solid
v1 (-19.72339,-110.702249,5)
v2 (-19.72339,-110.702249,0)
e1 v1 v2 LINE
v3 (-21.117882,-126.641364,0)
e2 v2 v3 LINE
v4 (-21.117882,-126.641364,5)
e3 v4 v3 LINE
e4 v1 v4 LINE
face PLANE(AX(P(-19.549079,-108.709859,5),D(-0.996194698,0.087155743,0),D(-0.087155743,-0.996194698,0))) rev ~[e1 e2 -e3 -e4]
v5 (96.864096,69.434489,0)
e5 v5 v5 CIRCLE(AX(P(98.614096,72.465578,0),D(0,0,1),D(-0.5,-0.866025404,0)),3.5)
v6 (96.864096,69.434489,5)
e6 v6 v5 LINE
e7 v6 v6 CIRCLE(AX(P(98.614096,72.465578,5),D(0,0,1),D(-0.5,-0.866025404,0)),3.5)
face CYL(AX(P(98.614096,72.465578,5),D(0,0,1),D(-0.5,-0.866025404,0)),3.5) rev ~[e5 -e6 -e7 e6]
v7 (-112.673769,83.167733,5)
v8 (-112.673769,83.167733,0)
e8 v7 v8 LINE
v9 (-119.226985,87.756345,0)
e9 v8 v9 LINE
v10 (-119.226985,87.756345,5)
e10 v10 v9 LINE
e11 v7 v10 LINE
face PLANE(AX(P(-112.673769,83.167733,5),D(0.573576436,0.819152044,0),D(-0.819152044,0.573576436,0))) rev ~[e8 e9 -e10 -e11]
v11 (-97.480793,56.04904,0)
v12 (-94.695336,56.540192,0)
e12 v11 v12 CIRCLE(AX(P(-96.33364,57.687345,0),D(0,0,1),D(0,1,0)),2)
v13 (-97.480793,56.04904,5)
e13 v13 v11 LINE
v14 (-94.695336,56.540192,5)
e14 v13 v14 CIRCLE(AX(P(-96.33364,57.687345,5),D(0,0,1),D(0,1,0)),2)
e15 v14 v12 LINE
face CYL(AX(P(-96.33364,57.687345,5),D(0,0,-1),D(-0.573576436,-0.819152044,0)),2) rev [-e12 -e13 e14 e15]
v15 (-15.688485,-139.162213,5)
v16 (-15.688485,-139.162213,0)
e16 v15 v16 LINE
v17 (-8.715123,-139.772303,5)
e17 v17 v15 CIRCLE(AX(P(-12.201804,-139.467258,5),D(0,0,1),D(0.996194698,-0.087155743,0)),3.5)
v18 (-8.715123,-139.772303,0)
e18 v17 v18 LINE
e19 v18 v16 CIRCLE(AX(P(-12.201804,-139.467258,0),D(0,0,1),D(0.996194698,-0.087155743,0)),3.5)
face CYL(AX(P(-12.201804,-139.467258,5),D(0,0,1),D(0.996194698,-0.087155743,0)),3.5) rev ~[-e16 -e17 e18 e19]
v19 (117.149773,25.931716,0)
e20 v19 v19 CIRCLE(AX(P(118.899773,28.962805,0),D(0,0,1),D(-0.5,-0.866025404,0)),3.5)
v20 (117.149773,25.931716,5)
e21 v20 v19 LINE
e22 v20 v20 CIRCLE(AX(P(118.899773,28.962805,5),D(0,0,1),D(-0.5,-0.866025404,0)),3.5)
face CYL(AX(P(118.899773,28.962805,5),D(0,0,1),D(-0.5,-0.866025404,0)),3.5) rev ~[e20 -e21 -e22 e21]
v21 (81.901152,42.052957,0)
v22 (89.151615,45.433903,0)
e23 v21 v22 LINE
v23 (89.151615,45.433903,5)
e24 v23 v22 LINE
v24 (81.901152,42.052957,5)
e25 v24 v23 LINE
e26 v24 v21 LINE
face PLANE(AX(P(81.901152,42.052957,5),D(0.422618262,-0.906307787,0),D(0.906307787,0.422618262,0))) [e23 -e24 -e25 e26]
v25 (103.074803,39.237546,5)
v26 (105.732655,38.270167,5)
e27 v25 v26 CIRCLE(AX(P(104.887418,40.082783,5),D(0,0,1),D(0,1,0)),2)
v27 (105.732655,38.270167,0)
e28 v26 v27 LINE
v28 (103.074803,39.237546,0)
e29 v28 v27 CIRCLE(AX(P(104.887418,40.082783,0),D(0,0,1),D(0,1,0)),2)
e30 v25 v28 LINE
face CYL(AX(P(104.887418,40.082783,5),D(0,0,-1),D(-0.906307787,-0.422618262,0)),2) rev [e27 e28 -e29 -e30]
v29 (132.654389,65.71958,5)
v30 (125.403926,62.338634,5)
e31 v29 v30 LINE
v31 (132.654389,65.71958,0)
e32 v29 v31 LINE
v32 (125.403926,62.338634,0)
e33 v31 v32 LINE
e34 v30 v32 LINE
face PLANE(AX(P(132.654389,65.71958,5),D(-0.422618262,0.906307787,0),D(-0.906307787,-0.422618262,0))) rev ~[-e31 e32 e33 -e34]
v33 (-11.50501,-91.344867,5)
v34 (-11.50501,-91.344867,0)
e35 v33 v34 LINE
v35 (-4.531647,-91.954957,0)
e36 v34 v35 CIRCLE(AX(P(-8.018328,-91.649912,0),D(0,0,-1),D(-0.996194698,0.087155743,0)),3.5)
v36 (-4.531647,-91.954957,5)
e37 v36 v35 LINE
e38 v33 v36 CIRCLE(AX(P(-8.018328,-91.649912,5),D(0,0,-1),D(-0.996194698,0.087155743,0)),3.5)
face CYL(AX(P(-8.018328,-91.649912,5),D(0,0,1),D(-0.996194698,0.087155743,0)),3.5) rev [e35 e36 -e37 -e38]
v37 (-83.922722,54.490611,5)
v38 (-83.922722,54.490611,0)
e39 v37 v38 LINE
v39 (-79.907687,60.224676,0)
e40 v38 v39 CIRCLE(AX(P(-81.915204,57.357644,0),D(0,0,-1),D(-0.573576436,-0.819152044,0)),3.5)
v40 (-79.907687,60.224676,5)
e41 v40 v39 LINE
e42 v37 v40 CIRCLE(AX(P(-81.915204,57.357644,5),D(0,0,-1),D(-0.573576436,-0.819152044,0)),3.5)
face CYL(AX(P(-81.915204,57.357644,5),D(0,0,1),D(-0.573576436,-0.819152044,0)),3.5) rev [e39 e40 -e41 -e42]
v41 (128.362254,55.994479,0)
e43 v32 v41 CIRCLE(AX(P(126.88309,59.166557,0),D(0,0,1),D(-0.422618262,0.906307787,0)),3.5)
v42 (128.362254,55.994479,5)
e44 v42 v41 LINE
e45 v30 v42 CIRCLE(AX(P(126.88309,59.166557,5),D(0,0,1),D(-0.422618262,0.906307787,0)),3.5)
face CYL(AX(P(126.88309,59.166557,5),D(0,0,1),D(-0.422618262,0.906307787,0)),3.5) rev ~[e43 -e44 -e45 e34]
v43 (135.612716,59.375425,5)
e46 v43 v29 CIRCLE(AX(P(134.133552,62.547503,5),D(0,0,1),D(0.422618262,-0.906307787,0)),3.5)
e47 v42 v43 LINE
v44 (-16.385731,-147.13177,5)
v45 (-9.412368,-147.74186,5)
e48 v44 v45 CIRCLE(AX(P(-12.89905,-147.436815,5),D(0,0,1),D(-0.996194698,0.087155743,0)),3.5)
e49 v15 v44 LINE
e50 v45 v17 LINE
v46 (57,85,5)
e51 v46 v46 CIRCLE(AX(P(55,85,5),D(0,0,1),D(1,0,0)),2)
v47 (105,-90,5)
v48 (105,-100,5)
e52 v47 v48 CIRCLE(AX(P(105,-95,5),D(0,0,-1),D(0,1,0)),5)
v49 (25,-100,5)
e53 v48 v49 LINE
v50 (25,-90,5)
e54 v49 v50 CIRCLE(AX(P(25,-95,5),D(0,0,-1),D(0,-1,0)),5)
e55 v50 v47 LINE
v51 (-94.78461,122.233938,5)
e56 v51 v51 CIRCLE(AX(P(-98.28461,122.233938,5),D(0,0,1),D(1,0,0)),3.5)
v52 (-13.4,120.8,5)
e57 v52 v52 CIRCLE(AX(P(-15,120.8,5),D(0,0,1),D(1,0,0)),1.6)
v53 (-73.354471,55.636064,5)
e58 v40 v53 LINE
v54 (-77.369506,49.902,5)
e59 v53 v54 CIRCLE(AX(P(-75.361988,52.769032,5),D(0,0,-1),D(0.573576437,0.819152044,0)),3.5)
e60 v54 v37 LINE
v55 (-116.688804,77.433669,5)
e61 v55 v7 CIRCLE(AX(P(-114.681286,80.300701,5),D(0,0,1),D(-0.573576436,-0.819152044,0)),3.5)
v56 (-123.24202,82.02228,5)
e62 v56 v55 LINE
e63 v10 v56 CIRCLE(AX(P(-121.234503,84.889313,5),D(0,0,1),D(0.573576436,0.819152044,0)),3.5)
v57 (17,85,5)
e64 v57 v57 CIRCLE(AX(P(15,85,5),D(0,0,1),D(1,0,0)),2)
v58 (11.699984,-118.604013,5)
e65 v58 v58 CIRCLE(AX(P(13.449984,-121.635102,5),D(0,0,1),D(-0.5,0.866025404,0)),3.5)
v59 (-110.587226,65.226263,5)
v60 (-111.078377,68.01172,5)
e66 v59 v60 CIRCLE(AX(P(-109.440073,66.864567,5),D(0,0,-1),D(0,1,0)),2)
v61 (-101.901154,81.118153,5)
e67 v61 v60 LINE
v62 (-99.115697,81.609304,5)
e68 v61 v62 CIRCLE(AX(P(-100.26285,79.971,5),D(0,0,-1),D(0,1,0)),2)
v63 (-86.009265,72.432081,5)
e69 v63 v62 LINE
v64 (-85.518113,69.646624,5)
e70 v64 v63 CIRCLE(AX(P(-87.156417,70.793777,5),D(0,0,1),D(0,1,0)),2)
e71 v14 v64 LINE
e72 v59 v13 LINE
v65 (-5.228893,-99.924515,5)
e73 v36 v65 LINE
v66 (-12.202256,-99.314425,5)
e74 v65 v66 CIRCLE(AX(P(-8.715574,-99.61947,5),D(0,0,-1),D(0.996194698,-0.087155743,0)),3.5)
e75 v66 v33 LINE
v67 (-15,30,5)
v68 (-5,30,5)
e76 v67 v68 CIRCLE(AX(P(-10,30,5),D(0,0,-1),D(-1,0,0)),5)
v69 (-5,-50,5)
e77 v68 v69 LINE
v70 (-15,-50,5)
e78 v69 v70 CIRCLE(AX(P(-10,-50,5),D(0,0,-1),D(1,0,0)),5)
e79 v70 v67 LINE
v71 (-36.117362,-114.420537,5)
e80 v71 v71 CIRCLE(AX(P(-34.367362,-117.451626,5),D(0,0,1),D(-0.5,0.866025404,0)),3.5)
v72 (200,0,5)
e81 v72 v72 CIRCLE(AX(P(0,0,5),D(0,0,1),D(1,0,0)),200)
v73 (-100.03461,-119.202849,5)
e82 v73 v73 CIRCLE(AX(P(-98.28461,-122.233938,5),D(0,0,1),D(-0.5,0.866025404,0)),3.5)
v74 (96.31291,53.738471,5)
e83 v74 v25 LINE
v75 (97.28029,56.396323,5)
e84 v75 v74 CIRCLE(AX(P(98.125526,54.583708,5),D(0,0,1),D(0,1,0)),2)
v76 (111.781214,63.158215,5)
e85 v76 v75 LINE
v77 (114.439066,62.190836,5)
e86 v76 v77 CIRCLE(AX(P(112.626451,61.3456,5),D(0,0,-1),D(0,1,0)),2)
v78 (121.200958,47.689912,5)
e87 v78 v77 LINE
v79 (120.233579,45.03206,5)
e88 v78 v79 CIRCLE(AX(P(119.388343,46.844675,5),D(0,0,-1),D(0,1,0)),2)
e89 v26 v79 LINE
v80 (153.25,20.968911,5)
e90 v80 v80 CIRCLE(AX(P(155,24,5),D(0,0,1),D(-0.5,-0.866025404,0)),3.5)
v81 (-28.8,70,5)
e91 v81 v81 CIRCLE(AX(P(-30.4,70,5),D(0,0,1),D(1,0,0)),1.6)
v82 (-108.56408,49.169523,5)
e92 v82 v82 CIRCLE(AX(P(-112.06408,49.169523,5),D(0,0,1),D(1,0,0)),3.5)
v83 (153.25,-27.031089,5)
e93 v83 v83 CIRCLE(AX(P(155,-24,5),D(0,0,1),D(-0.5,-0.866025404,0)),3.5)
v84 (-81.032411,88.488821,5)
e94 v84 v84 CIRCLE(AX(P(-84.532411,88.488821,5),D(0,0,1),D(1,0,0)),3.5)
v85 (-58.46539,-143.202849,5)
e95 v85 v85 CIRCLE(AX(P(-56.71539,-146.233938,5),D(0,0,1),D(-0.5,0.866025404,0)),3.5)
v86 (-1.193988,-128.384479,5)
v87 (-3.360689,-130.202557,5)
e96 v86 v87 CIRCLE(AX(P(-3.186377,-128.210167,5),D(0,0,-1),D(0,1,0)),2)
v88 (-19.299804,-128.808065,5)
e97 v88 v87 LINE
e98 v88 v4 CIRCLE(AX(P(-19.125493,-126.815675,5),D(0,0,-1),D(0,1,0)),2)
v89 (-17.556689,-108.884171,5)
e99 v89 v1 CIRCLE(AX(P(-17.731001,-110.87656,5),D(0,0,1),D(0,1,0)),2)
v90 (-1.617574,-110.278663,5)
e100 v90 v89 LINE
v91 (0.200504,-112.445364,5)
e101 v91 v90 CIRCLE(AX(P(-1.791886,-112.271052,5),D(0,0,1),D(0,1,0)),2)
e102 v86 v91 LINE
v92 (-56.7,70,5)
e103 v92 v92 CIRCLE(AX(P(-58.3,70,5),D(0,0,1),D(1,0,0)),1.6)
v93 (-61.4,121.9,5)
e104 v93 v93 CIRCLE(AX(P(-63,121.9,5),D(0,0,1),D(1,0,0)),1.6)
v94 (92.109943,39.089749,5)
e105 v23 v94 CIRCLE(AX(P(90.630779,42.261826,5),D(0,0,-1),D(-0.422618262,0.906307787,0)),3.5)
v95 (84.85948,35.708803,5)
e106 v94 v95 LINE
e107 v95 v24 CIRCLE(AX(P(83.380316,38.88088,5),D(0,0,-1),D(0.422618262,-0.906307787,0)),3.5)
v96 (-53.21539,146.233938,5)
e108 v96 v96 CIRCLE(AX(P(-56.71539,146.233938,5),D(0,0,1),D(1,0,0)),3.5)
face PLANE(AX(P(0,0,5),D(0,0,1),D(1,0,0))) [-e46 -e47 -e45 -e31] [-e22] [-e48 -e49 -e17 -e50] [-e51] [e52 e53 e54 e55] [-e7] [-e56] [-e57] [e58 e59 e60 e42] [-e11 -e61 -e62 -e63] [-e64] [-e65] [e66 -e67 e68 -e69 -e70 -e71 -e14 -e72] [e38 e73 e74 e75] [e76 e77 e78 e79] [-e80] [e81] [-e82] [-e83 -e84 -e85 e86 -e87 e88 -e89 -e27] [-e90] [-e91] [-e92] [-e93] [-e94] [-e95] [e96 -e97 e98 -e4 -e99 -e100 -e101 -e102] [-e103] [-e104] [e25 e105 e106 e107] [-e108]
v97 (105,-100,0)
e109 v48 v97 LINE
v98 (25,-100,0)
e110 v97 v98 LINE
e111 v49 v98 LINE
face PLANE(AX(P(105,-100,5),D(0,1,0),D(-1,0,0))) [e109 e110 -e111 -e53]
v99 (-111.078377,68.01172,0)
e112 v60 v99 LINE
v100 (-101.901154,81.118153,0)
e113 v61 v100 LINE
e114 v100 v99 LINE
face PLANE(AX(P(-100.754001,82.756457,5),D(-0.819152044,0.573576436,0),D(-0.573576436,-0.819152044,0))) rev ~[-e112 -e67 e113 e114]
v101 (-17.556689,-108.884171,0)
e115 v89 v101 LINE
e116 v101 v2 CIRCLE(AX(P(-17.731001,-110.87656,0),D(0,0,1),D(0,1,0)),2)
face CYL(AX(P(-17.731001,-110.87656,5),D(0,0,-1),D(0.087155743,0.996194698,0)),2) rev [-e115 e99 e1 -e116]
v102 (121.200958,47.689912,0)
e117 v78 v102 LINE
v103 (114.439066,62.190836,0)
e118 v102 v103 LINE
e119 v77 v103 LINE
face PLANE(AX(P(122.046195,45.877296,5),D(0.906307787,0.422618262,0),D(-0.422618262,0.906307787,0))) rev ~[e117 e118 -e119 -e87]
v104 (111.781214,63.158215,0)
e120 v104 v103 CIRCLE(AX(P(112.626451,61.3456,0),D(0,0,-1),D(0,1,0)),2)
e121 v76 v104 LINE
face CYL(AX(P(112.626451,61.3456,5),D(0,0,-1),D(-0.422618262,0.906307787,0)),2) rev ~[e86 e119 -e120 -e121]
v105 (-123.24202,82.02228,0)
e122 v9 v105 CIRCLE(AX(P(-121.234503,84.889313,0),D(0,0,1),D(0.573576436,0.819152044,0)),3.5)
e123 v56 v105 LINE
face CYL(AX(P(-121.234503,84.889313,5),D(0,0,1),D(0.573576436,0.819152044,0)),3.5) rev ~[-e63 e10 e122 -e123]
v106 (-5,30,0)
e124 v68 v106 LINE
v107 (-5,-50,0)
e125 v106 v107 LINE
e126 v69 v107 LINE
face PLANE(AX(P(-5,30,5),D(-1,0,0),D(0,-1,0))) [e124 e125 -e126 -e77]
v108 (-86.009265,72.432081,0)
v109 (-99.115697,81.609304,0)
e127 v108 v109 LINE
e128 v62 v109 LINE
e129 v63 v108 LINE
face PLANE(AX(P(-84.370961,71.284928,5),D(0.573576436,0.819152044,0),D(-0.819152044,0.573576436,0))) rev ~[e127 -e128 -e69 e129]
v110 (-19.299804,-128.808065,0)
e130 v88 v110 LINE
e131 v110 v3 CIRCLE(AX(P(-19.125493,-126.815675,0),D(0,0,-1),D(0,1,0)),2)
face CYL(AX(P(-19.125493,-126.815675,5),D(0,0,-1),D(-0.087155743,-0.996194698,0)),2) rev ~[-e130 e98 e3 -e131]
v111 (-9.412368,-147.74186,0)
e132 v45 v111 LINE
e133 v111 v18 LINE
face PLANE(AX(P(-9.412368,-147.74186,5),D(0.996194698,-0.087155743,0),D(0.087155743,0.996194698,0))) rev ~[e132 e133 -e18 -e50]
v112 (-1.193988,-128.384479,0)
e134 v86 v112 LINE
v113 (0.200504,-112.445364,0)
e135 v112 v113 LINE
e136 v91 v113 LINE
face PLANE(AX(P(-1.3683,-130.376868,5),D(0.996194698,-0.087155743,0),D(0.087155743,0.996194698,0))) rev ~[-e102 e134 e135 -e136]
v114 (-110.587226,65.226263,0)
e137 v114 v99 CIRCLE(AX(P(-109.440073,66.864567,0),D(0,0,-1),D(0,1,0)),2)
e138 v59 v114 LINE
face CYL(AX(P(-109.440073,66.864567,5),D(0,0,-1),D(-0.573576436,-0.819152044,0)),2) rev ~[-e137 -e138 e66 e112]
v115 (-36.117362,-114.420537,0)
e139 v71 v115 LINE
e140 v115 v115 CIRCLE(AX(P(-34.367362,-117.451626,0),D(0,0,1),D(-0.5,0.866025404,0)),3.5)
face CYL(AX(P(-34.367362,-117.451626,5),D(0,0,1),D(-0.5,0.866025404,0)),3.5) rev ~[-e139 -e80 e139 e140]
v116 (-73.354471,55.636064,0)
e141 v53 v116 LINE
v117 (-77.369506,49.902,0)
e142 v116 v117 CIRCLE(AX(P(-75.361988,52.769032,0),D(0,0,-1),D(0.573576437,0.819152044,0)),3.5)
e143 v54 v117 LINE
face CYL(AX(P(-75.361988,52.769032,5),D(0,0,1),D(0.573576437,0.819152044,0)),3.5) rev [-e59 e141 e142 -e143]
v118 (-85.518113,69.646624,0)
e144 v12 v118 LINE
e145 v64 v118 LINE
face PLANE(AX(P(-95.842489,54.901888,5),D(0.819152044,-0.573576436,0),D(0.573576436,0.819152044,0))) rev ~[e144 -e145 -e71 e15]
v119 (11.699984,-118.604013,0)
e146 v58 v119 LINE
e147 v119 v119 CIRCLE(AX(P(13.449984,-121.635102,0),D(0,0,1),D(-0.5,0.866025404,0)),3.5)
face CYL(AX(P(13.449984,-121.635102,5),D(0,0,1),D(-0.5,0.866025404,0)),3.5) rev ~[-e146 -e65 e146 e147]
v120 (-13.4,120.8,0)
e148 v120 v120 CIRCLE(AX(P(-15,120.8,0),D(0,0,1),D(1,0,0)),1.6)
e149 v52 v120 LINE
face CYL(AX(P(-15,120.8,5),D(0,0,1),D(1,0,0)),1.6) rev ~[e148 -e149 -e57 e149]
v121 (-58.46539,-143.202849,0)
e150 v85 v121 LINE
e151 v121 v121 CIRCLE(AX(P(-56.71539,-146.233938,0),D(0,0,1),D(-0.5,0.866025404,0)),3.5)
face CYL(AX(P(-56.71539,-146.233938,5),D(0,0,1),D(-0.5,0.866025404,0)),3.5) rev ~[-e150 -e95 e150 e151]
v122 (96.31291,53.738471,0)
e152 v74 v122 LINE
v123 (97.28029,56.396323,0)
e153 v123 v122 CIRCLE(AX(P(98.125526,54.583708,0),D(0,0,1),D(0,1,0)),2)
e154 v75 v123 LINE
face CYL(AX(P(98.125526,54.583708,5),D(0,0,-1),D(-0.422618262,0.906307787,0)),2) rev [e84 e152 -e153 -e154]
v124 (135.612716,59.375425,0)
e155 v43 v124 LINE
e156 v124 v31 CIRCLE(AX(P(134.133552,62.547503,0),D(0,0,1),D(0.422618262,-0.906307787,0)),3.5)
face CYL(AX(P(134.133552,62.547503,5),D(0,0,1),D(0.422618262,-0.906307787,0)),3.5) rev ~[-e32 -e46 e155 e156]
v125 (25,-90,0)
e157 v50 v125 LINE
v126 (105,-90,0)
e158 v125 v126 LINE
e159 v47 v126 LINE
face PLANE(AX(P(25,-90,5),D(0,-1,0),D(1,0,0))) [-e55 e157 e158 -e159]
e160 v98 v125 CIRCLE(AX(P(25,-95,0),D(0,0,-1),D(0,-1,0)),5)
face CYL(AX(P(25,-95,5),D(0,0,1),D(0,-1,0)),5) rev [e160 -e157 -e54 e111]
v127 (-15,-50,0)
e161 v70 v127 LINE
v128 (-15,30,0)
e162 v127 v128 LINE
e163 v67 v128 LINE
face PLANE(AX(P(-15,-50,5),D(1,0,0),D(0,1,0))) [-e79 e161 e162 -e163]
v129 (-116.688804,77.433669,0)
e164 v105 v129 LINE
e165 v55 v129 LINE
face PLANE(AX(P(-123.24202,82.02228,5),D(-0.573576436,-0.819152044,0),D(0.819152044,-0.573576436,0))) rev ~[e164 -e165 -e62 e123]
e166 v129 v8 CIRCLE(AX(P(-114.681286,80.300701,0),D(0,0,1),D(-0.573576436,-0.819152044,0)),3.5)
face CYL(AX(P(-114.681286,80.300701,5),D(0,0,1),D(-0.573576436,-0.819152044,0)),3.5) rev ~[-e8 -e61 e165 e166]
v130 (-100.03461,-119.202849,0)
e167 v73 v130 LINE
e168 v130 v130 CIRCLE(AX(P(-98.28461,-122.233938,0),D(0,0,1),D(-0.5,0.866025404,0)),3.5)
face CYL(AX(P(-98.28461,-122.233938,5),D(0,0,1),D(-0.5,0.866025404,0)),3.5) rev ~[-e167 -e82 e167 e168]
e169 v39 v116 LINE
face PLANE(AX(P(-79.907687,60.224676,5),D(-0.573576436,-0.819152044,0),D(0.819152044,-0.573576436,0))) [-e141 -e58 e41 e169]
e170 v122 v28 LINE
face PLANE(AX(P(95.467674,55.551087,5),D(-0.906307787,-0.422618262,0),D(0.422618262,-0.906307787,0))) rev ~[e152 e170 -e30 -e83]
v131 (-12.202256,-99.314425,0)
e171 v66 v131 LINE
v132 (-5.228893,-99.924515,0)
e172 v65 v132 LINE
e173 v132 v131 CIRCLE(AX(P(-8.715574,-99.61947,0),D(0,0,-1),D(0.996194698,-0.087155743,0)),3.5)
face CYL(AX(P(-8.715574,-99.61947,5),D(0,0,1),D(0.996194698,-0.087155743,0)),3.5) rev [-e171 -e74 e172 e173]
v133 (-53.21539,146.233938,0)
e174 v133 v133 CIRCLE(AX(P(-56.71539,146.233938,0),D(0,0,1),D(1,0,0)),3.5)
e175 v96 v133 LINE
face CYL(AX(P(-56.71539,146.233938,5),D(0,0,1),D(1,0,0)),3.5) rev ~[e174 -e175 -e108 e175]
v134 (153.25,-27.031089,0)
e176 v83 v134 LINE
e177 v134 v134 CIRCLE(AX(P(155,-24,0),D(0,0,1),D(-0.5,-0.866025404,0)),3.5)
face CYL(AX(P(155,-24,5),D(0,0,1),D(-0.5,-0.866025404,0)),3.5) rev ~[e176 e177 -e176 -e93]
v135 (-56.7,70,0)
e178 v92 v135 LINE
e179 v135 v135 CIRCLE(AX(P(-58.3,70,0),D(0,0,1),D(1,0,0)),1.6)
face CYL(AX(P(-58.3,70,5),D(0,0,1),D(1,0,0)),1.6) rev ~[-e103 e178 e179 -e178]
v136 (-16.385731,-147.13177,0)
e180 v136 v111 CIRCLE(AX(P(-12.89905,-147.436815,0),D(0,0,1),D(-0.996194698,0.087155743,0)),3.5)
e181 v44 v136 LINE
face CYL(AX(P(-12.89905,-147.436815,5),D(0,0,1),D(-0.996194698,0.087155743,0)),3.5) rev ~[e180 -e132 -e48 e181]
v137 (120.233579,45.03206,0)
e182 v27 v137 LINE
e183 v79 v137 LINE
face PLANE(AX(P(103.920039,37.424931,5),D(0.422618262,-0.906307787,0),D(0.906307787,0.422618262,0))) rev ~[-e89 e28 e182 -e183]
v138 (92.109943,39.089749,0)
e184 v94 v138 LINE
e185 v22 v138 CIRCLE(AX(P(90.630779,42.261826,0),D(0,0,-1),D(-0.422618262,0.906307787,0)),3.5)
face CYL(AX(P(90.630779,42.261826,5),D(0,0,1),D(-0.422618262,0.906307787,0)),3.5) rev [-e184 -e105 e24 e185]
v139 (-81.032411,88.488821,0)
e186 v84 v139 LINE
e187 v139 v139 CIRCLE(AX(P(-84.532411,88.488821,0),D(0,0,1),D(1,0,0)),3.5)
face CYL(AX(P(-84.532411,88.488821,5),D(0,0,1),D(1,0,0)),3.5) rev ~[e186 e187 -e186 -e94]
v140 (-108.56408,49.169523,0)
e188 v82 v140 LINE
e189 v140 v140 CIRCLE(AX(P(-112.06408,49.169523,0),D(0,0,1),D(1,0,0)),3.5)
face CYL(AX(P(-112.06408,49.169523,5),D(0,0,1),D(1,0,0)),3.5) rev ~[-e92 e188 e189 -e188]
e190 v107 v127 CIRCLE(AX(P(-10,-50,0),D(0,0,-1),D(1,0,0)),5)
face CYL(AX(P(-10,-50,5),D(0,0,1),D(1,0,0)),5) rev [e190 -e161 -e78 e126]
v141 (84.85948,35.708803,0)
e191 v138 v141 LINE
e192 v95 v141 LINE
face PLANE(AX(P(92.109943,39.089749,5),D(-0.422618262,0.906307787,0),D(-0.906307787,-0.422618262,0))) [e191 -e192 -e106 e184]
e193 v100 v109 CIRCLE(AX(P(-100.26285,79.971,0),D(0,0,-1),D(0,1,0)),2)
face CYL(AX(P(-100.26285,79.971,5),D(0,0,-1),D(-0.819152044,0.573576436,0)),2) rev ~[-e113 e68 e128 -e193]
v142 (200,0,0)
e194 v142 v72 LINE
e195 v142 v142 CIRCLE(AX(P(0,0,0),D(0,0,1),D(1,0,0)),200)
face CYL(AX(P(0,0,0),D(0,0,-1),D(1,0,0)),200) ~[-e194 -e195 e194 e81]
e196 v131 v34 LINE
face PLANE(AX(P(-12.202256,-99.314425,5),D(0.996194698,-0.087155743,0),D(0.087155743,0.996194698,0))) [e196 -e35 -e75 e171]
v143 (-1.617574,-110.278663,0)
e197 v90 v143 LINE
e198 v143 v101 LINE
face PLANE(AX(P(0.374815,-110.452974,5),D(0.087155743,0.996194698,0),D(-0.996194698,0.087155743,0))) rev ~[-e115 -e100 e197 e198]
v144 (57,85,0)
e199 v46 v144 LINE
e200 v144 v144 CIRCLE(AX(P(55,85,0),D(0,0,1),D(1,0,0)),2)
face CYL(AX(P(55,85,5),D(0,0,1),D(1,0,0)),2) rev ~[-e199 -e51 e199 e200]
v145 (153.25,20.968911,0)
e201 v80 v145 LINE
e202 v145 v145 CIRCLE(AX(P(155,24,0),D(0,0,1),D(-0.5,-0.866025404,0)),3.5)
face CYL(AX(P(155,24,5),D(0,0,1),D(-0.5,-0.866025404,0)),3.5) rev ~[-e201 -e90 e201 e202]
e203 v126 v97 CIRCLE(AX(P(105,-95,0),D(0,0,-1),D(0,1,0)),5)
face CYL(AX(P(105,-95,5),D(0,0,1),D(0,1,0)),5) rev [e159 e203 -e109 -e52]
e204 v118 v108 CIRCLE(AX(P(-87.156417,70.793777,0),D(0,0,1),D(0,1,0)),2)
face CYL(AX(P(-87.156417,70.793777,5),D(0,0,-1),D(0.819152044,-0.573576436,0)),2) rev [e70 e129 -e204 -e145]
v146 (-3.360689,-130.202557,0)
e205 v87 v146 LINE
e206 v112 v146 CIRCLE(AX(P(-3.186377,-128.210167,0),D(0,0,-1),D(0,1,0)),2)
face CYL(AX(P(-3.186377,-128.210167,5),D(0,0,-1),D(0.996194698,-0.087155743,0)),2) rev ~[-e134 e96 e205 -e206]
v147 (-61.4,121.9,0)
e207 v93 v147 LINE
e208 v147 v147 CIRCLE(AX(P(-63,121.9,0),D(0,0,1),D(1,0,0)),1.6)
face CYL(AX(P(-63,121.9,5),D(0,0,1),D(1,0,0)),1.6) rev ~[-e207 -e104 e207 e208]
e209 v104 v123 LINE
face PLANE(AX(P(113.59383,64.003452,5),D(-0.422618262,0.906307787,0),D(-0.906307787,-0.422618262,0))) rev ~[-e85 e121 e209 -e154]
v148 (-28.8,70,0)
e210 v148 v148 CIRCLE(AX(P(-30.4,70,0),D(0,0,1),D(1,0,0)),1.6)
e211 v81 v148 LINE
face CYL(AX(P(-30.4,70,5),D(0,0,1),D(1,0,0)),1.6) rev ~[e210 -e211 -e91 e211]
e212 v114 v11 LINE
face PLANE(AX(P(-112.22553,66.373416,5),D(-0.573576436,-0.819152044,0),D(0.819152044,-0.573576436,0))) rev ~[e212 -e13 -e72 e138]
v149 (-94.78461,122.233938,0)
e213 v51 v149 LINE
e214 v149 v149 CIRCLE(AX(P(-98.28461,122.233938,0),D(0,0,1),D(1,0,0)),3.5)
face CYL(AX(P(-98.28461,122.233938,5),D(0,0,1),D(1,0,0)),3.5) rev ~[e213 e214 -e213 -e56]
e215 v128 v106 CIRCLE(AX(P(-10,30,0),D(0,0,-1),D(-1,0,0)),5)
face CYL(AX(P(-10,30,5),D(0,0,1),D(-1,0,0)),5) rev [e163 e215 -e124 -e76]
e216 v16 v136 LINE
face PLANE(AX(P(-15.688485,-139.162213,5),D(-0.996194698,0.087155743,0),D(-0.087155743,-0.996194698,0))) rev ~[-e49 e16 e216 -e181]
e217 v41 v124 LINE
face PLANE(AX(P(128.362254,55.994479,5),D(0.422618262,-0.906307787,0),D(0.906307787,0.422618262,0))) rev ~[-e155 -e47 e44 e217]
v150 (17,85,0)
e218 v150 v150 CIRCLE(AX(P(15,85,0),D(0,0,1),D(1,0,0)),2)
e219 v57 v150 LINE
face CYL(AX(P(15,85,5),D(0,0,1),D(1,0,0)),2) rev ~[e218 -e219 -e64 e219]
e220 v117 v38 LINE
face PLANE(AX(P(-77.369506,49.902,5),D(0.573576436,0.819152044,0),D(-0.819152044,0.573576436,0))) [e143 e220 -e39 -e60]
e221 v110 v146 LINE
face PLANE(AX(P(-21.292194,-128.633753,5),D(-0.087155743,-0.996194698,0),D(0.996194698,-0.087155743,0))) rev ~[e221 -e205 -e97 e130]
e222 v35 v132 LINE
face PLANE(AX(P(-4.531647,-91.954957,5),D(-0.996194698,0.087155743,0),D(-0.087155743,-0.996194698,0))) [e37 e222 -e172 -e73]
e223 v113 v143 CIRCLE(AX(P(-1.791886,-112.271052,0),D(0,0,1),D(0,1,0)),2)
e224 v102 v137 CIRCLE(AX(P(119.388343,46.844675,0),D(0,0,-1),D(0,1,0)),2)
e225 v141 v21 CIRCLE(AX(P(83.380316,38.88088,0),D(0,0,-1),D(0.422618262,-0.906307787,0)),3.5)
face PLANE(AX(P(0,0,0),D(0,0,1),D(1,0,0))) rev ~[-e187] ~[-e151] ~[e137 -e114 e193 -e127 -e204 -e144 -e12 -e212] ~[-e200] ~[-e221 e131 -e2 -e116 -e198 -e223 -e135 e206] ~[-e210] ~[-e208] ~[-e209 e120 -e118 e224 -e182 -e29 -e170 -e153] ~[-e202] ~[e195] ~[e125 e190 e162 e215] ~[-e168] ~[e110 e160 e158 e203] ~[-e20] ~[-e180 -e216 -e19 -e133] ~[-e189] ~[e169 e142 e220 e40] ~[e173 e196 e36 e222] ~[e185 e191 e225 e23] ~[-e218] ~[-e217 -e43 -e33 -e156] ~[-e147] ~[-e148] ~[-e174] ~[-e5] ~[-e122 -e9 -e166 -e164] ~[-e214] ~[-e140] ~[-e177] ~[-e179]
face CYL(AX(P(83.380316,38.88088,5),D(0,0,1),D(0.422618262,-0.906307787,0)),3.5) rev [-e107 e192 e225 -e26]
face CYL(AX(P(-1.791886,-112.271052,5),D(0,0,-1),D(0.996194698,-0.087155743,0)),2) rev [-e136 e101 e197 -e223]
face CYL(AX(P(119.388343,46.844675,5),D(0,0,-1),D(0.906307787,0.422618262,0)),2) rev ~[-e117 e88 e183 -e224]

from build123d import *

# Parameters (mm, degrees)
SKETCH1_R           = 200
BOSS_EXTRUDE2_DEPTH = 5
SKETCH9_R           = 3.5
CUT_EXTRUDE8_DEPTH  = 5
CIRPATTERN5_COUNT   = 3
SKETCH15_R          = 2
CUT_EXTRUDE13_DEPTH = 5
SKETCH17_R          = 3.5
CUT_EXTRUDE15_DEPTH = 5
CIRPATTERN7_COUNT   = 3
CUT_EXTRUDE16_DEPTH = 5
CUT_EXTRUDE17_DEPTH = 5
SKETCH20_R          = 1.6
CUT_EXTRUDE18_DEPTH = 5
FILLET1_R           = 2


with BuildPart() as part:
    # Sketch1 → Boss-Extrude2 (new body)
    with BuildSketch(Plane.XY):
        Circle(SKETCH1_R)
    extrude(amount=BOSS_EXTRUDE2_DEPTH)

    # Sketch9 → Cut-Extrude8 (cut)
    with BuildSketch(Plane.XY.offset(5)):
        with Locations((-56.715390309, 146.233937587)):
            Circle(SKETCH9_R)
        with Locations((-98.284609691, 122.233937587)):
            Circle(SKETCH9_R)
    cut_extrude8 = extrude(amount=-CUT_EXTRUDE8_DEPTH, mode=Mode.SUBTRACT)

    # CirPattern5: Cut-Extrude8 ×3 about axis
    cirpattern5_axis = Axis((0, 0, 0), (0, 0, 1))
    for i in range(1, CIRPATTERN5_COUNT):
        add(cut_extrude8.rotate(cirpattern5_axis, i * 360 / CIRPATTERN5_COUNT), mode=Mode.SUBTRACT)

    # Sketch15 → Cut-Extrude13 (cut)
    with BuildSketch(Plane.XY.offset(5)):
        with Locations((15, 85)):
            Circle(SKETCH15_R)
        with Locations((55, 85)):
            Circle(SKETCH15_R)
    extrude(amount=-CUT_EXTRUDE13_DEPTH, mode=Mode.SUBTRACT)

    # Sketch17 → Cut-Extrude15 (cut)
    with BuildSketch(Plane.XY.offset(5)):
        with Locations((-84.532410842, 88.488821425)):
            Circle(SKETCH17_R)
        with Locations((-112.064079787, 49.169523299)):
            Circle(SKETCH17_R)
        Polygon((-112.225530121, 66.373416283), (-95.842489235, 54.901887556), (-84.370960508, 71.284928442), (-100.754001394, 82.756457169), align=None)
        with BuildLine():
            Line((-79.907686902, 60.22467579), (-73.354470547, 55.636064299))
            ThreePointArc((-73.354470547, 55.636064299), (-72.49495592, 50.761514617), (-77.369505602, 49.901999989))
            Line((-77.369505602, 49.901999989), (-83.922721956, 54.49061148))
            ThreePointArc((-83.922721956, 54.49061148), (-84.782236584, 59.365161162), (-79.907686902, 60.22467579))
        make_face()
        with BuildLine():
            Line((-112.673768673, 83.167733244), (-119.226985028, 87.756344735))
            ThreePointArc((-119.226985028, 87.756344735), (-124.10153471, 86.896830107), (-123.242020082, 82.022280425))
            Line((-123.242020082, 82.022280425), (-116.688803728, 77.433668934))
            ThreePointArc((-116.688803728, 77.433668934), (-111.814254045, 78.293183562), (-112.673768673, 83.167733244))
        make_face()
    cut_extrude15 = extrude(amount=-CUT_EXTRUDE15_DEPTH, mode=Mode.SUBTRACT)

    # CirPattern7: Cut-Extrude15 ×3 about axis
    cirpattern7_axis = Axis((0, 0, 0), (0, 0, 1))
    for i in range(1, CIRPATTERN7_COUNT):
        add(cut_extrude15.rotate(cirpattern7_axis, i * 360 / CIRPATTERN7_COUNT), mode=Mode.SUBTRACT)

    # Sketch18 → Cut-Extrude16 (cut)
    with BuildSketch(Plane.XY.offset(5)):
        with BuildLine():
            Line((-5, 30), (-5, -50))
            ThreePointArc((-5, -50), (-10, -55), (-15, -50))
            Line((-15, -50), (-15, 30))
            ThreePointArc((-15, 30), (-10, 35), (-5, 30))
        make_face()
    extrude(amount=-CUT_EXTRUDE16_DEPTH, mode=Mode.SUBTRACT)

    # Sketch19 → Cut-Extrude17 (cut)
    with BuildSketch(Plane.XY.offset(5)):
        with BuildLine():
            Line((25, -90), (105, -90))
            ThreePointArc((105, -90), (110, -95), (105, -100))
            Line((105, -100), (25, -100))
            ThreePointArc((25, -100), (20, -95), (25, -90))
        make_face()
    extrude(amount=-CUT_EXTRUDE17_DEPTH, mode=Mode.SUBTRACT)

    # Sketch20 → Cut-Extrude18 (cut)
    with BuildSketch(Plane.XY.offset(5)):
        with Locations((-63, 121.9)):
            Circle(SKETCH20_R)
        with Locations((-15, 120.8)):
            Circle(SKETCH20_R)
        with Locations((-58.3, 70)):
            Circle(SKETCH20_R)
        with Locations((-30.4, 70)):
            Circle(SKETCH20_R)
    extrude(amount=-CUT_EXTRUDE18_DEPTH, mode=Mode.SUBTRACT)

    # Fillet1
    fillet1_edges = [part.edges().sort_by_distance(p)[0] for p in [
        (-1.368299576, -130.376868179, 2.5),
        (-21.292193538, -128.633753324, 2.5),
        (-19.549078683, -108.709859363, 2.5),
        (0.374815279, -110.452974218, 2.5),
        (113.593829697, 64.003451897, 2.5),
        (122.046194932, 45.877296156, 2.5),
        (103.920039191, 37.424930921, 2.5),
        (95.467673957, 55.551086662, 2.5),
        (-112.225530121, 66.373416283, 2.5),
        (-100.754001394, 82.756457169, 2.5),
        (-84.370960508, 71.284928442, 2.5),
        (-95.842489235, 54.901887556, 2.5),
    ]]
    fillet(fillet1_edges, radius=FILLET1_R)


solid = part.part
